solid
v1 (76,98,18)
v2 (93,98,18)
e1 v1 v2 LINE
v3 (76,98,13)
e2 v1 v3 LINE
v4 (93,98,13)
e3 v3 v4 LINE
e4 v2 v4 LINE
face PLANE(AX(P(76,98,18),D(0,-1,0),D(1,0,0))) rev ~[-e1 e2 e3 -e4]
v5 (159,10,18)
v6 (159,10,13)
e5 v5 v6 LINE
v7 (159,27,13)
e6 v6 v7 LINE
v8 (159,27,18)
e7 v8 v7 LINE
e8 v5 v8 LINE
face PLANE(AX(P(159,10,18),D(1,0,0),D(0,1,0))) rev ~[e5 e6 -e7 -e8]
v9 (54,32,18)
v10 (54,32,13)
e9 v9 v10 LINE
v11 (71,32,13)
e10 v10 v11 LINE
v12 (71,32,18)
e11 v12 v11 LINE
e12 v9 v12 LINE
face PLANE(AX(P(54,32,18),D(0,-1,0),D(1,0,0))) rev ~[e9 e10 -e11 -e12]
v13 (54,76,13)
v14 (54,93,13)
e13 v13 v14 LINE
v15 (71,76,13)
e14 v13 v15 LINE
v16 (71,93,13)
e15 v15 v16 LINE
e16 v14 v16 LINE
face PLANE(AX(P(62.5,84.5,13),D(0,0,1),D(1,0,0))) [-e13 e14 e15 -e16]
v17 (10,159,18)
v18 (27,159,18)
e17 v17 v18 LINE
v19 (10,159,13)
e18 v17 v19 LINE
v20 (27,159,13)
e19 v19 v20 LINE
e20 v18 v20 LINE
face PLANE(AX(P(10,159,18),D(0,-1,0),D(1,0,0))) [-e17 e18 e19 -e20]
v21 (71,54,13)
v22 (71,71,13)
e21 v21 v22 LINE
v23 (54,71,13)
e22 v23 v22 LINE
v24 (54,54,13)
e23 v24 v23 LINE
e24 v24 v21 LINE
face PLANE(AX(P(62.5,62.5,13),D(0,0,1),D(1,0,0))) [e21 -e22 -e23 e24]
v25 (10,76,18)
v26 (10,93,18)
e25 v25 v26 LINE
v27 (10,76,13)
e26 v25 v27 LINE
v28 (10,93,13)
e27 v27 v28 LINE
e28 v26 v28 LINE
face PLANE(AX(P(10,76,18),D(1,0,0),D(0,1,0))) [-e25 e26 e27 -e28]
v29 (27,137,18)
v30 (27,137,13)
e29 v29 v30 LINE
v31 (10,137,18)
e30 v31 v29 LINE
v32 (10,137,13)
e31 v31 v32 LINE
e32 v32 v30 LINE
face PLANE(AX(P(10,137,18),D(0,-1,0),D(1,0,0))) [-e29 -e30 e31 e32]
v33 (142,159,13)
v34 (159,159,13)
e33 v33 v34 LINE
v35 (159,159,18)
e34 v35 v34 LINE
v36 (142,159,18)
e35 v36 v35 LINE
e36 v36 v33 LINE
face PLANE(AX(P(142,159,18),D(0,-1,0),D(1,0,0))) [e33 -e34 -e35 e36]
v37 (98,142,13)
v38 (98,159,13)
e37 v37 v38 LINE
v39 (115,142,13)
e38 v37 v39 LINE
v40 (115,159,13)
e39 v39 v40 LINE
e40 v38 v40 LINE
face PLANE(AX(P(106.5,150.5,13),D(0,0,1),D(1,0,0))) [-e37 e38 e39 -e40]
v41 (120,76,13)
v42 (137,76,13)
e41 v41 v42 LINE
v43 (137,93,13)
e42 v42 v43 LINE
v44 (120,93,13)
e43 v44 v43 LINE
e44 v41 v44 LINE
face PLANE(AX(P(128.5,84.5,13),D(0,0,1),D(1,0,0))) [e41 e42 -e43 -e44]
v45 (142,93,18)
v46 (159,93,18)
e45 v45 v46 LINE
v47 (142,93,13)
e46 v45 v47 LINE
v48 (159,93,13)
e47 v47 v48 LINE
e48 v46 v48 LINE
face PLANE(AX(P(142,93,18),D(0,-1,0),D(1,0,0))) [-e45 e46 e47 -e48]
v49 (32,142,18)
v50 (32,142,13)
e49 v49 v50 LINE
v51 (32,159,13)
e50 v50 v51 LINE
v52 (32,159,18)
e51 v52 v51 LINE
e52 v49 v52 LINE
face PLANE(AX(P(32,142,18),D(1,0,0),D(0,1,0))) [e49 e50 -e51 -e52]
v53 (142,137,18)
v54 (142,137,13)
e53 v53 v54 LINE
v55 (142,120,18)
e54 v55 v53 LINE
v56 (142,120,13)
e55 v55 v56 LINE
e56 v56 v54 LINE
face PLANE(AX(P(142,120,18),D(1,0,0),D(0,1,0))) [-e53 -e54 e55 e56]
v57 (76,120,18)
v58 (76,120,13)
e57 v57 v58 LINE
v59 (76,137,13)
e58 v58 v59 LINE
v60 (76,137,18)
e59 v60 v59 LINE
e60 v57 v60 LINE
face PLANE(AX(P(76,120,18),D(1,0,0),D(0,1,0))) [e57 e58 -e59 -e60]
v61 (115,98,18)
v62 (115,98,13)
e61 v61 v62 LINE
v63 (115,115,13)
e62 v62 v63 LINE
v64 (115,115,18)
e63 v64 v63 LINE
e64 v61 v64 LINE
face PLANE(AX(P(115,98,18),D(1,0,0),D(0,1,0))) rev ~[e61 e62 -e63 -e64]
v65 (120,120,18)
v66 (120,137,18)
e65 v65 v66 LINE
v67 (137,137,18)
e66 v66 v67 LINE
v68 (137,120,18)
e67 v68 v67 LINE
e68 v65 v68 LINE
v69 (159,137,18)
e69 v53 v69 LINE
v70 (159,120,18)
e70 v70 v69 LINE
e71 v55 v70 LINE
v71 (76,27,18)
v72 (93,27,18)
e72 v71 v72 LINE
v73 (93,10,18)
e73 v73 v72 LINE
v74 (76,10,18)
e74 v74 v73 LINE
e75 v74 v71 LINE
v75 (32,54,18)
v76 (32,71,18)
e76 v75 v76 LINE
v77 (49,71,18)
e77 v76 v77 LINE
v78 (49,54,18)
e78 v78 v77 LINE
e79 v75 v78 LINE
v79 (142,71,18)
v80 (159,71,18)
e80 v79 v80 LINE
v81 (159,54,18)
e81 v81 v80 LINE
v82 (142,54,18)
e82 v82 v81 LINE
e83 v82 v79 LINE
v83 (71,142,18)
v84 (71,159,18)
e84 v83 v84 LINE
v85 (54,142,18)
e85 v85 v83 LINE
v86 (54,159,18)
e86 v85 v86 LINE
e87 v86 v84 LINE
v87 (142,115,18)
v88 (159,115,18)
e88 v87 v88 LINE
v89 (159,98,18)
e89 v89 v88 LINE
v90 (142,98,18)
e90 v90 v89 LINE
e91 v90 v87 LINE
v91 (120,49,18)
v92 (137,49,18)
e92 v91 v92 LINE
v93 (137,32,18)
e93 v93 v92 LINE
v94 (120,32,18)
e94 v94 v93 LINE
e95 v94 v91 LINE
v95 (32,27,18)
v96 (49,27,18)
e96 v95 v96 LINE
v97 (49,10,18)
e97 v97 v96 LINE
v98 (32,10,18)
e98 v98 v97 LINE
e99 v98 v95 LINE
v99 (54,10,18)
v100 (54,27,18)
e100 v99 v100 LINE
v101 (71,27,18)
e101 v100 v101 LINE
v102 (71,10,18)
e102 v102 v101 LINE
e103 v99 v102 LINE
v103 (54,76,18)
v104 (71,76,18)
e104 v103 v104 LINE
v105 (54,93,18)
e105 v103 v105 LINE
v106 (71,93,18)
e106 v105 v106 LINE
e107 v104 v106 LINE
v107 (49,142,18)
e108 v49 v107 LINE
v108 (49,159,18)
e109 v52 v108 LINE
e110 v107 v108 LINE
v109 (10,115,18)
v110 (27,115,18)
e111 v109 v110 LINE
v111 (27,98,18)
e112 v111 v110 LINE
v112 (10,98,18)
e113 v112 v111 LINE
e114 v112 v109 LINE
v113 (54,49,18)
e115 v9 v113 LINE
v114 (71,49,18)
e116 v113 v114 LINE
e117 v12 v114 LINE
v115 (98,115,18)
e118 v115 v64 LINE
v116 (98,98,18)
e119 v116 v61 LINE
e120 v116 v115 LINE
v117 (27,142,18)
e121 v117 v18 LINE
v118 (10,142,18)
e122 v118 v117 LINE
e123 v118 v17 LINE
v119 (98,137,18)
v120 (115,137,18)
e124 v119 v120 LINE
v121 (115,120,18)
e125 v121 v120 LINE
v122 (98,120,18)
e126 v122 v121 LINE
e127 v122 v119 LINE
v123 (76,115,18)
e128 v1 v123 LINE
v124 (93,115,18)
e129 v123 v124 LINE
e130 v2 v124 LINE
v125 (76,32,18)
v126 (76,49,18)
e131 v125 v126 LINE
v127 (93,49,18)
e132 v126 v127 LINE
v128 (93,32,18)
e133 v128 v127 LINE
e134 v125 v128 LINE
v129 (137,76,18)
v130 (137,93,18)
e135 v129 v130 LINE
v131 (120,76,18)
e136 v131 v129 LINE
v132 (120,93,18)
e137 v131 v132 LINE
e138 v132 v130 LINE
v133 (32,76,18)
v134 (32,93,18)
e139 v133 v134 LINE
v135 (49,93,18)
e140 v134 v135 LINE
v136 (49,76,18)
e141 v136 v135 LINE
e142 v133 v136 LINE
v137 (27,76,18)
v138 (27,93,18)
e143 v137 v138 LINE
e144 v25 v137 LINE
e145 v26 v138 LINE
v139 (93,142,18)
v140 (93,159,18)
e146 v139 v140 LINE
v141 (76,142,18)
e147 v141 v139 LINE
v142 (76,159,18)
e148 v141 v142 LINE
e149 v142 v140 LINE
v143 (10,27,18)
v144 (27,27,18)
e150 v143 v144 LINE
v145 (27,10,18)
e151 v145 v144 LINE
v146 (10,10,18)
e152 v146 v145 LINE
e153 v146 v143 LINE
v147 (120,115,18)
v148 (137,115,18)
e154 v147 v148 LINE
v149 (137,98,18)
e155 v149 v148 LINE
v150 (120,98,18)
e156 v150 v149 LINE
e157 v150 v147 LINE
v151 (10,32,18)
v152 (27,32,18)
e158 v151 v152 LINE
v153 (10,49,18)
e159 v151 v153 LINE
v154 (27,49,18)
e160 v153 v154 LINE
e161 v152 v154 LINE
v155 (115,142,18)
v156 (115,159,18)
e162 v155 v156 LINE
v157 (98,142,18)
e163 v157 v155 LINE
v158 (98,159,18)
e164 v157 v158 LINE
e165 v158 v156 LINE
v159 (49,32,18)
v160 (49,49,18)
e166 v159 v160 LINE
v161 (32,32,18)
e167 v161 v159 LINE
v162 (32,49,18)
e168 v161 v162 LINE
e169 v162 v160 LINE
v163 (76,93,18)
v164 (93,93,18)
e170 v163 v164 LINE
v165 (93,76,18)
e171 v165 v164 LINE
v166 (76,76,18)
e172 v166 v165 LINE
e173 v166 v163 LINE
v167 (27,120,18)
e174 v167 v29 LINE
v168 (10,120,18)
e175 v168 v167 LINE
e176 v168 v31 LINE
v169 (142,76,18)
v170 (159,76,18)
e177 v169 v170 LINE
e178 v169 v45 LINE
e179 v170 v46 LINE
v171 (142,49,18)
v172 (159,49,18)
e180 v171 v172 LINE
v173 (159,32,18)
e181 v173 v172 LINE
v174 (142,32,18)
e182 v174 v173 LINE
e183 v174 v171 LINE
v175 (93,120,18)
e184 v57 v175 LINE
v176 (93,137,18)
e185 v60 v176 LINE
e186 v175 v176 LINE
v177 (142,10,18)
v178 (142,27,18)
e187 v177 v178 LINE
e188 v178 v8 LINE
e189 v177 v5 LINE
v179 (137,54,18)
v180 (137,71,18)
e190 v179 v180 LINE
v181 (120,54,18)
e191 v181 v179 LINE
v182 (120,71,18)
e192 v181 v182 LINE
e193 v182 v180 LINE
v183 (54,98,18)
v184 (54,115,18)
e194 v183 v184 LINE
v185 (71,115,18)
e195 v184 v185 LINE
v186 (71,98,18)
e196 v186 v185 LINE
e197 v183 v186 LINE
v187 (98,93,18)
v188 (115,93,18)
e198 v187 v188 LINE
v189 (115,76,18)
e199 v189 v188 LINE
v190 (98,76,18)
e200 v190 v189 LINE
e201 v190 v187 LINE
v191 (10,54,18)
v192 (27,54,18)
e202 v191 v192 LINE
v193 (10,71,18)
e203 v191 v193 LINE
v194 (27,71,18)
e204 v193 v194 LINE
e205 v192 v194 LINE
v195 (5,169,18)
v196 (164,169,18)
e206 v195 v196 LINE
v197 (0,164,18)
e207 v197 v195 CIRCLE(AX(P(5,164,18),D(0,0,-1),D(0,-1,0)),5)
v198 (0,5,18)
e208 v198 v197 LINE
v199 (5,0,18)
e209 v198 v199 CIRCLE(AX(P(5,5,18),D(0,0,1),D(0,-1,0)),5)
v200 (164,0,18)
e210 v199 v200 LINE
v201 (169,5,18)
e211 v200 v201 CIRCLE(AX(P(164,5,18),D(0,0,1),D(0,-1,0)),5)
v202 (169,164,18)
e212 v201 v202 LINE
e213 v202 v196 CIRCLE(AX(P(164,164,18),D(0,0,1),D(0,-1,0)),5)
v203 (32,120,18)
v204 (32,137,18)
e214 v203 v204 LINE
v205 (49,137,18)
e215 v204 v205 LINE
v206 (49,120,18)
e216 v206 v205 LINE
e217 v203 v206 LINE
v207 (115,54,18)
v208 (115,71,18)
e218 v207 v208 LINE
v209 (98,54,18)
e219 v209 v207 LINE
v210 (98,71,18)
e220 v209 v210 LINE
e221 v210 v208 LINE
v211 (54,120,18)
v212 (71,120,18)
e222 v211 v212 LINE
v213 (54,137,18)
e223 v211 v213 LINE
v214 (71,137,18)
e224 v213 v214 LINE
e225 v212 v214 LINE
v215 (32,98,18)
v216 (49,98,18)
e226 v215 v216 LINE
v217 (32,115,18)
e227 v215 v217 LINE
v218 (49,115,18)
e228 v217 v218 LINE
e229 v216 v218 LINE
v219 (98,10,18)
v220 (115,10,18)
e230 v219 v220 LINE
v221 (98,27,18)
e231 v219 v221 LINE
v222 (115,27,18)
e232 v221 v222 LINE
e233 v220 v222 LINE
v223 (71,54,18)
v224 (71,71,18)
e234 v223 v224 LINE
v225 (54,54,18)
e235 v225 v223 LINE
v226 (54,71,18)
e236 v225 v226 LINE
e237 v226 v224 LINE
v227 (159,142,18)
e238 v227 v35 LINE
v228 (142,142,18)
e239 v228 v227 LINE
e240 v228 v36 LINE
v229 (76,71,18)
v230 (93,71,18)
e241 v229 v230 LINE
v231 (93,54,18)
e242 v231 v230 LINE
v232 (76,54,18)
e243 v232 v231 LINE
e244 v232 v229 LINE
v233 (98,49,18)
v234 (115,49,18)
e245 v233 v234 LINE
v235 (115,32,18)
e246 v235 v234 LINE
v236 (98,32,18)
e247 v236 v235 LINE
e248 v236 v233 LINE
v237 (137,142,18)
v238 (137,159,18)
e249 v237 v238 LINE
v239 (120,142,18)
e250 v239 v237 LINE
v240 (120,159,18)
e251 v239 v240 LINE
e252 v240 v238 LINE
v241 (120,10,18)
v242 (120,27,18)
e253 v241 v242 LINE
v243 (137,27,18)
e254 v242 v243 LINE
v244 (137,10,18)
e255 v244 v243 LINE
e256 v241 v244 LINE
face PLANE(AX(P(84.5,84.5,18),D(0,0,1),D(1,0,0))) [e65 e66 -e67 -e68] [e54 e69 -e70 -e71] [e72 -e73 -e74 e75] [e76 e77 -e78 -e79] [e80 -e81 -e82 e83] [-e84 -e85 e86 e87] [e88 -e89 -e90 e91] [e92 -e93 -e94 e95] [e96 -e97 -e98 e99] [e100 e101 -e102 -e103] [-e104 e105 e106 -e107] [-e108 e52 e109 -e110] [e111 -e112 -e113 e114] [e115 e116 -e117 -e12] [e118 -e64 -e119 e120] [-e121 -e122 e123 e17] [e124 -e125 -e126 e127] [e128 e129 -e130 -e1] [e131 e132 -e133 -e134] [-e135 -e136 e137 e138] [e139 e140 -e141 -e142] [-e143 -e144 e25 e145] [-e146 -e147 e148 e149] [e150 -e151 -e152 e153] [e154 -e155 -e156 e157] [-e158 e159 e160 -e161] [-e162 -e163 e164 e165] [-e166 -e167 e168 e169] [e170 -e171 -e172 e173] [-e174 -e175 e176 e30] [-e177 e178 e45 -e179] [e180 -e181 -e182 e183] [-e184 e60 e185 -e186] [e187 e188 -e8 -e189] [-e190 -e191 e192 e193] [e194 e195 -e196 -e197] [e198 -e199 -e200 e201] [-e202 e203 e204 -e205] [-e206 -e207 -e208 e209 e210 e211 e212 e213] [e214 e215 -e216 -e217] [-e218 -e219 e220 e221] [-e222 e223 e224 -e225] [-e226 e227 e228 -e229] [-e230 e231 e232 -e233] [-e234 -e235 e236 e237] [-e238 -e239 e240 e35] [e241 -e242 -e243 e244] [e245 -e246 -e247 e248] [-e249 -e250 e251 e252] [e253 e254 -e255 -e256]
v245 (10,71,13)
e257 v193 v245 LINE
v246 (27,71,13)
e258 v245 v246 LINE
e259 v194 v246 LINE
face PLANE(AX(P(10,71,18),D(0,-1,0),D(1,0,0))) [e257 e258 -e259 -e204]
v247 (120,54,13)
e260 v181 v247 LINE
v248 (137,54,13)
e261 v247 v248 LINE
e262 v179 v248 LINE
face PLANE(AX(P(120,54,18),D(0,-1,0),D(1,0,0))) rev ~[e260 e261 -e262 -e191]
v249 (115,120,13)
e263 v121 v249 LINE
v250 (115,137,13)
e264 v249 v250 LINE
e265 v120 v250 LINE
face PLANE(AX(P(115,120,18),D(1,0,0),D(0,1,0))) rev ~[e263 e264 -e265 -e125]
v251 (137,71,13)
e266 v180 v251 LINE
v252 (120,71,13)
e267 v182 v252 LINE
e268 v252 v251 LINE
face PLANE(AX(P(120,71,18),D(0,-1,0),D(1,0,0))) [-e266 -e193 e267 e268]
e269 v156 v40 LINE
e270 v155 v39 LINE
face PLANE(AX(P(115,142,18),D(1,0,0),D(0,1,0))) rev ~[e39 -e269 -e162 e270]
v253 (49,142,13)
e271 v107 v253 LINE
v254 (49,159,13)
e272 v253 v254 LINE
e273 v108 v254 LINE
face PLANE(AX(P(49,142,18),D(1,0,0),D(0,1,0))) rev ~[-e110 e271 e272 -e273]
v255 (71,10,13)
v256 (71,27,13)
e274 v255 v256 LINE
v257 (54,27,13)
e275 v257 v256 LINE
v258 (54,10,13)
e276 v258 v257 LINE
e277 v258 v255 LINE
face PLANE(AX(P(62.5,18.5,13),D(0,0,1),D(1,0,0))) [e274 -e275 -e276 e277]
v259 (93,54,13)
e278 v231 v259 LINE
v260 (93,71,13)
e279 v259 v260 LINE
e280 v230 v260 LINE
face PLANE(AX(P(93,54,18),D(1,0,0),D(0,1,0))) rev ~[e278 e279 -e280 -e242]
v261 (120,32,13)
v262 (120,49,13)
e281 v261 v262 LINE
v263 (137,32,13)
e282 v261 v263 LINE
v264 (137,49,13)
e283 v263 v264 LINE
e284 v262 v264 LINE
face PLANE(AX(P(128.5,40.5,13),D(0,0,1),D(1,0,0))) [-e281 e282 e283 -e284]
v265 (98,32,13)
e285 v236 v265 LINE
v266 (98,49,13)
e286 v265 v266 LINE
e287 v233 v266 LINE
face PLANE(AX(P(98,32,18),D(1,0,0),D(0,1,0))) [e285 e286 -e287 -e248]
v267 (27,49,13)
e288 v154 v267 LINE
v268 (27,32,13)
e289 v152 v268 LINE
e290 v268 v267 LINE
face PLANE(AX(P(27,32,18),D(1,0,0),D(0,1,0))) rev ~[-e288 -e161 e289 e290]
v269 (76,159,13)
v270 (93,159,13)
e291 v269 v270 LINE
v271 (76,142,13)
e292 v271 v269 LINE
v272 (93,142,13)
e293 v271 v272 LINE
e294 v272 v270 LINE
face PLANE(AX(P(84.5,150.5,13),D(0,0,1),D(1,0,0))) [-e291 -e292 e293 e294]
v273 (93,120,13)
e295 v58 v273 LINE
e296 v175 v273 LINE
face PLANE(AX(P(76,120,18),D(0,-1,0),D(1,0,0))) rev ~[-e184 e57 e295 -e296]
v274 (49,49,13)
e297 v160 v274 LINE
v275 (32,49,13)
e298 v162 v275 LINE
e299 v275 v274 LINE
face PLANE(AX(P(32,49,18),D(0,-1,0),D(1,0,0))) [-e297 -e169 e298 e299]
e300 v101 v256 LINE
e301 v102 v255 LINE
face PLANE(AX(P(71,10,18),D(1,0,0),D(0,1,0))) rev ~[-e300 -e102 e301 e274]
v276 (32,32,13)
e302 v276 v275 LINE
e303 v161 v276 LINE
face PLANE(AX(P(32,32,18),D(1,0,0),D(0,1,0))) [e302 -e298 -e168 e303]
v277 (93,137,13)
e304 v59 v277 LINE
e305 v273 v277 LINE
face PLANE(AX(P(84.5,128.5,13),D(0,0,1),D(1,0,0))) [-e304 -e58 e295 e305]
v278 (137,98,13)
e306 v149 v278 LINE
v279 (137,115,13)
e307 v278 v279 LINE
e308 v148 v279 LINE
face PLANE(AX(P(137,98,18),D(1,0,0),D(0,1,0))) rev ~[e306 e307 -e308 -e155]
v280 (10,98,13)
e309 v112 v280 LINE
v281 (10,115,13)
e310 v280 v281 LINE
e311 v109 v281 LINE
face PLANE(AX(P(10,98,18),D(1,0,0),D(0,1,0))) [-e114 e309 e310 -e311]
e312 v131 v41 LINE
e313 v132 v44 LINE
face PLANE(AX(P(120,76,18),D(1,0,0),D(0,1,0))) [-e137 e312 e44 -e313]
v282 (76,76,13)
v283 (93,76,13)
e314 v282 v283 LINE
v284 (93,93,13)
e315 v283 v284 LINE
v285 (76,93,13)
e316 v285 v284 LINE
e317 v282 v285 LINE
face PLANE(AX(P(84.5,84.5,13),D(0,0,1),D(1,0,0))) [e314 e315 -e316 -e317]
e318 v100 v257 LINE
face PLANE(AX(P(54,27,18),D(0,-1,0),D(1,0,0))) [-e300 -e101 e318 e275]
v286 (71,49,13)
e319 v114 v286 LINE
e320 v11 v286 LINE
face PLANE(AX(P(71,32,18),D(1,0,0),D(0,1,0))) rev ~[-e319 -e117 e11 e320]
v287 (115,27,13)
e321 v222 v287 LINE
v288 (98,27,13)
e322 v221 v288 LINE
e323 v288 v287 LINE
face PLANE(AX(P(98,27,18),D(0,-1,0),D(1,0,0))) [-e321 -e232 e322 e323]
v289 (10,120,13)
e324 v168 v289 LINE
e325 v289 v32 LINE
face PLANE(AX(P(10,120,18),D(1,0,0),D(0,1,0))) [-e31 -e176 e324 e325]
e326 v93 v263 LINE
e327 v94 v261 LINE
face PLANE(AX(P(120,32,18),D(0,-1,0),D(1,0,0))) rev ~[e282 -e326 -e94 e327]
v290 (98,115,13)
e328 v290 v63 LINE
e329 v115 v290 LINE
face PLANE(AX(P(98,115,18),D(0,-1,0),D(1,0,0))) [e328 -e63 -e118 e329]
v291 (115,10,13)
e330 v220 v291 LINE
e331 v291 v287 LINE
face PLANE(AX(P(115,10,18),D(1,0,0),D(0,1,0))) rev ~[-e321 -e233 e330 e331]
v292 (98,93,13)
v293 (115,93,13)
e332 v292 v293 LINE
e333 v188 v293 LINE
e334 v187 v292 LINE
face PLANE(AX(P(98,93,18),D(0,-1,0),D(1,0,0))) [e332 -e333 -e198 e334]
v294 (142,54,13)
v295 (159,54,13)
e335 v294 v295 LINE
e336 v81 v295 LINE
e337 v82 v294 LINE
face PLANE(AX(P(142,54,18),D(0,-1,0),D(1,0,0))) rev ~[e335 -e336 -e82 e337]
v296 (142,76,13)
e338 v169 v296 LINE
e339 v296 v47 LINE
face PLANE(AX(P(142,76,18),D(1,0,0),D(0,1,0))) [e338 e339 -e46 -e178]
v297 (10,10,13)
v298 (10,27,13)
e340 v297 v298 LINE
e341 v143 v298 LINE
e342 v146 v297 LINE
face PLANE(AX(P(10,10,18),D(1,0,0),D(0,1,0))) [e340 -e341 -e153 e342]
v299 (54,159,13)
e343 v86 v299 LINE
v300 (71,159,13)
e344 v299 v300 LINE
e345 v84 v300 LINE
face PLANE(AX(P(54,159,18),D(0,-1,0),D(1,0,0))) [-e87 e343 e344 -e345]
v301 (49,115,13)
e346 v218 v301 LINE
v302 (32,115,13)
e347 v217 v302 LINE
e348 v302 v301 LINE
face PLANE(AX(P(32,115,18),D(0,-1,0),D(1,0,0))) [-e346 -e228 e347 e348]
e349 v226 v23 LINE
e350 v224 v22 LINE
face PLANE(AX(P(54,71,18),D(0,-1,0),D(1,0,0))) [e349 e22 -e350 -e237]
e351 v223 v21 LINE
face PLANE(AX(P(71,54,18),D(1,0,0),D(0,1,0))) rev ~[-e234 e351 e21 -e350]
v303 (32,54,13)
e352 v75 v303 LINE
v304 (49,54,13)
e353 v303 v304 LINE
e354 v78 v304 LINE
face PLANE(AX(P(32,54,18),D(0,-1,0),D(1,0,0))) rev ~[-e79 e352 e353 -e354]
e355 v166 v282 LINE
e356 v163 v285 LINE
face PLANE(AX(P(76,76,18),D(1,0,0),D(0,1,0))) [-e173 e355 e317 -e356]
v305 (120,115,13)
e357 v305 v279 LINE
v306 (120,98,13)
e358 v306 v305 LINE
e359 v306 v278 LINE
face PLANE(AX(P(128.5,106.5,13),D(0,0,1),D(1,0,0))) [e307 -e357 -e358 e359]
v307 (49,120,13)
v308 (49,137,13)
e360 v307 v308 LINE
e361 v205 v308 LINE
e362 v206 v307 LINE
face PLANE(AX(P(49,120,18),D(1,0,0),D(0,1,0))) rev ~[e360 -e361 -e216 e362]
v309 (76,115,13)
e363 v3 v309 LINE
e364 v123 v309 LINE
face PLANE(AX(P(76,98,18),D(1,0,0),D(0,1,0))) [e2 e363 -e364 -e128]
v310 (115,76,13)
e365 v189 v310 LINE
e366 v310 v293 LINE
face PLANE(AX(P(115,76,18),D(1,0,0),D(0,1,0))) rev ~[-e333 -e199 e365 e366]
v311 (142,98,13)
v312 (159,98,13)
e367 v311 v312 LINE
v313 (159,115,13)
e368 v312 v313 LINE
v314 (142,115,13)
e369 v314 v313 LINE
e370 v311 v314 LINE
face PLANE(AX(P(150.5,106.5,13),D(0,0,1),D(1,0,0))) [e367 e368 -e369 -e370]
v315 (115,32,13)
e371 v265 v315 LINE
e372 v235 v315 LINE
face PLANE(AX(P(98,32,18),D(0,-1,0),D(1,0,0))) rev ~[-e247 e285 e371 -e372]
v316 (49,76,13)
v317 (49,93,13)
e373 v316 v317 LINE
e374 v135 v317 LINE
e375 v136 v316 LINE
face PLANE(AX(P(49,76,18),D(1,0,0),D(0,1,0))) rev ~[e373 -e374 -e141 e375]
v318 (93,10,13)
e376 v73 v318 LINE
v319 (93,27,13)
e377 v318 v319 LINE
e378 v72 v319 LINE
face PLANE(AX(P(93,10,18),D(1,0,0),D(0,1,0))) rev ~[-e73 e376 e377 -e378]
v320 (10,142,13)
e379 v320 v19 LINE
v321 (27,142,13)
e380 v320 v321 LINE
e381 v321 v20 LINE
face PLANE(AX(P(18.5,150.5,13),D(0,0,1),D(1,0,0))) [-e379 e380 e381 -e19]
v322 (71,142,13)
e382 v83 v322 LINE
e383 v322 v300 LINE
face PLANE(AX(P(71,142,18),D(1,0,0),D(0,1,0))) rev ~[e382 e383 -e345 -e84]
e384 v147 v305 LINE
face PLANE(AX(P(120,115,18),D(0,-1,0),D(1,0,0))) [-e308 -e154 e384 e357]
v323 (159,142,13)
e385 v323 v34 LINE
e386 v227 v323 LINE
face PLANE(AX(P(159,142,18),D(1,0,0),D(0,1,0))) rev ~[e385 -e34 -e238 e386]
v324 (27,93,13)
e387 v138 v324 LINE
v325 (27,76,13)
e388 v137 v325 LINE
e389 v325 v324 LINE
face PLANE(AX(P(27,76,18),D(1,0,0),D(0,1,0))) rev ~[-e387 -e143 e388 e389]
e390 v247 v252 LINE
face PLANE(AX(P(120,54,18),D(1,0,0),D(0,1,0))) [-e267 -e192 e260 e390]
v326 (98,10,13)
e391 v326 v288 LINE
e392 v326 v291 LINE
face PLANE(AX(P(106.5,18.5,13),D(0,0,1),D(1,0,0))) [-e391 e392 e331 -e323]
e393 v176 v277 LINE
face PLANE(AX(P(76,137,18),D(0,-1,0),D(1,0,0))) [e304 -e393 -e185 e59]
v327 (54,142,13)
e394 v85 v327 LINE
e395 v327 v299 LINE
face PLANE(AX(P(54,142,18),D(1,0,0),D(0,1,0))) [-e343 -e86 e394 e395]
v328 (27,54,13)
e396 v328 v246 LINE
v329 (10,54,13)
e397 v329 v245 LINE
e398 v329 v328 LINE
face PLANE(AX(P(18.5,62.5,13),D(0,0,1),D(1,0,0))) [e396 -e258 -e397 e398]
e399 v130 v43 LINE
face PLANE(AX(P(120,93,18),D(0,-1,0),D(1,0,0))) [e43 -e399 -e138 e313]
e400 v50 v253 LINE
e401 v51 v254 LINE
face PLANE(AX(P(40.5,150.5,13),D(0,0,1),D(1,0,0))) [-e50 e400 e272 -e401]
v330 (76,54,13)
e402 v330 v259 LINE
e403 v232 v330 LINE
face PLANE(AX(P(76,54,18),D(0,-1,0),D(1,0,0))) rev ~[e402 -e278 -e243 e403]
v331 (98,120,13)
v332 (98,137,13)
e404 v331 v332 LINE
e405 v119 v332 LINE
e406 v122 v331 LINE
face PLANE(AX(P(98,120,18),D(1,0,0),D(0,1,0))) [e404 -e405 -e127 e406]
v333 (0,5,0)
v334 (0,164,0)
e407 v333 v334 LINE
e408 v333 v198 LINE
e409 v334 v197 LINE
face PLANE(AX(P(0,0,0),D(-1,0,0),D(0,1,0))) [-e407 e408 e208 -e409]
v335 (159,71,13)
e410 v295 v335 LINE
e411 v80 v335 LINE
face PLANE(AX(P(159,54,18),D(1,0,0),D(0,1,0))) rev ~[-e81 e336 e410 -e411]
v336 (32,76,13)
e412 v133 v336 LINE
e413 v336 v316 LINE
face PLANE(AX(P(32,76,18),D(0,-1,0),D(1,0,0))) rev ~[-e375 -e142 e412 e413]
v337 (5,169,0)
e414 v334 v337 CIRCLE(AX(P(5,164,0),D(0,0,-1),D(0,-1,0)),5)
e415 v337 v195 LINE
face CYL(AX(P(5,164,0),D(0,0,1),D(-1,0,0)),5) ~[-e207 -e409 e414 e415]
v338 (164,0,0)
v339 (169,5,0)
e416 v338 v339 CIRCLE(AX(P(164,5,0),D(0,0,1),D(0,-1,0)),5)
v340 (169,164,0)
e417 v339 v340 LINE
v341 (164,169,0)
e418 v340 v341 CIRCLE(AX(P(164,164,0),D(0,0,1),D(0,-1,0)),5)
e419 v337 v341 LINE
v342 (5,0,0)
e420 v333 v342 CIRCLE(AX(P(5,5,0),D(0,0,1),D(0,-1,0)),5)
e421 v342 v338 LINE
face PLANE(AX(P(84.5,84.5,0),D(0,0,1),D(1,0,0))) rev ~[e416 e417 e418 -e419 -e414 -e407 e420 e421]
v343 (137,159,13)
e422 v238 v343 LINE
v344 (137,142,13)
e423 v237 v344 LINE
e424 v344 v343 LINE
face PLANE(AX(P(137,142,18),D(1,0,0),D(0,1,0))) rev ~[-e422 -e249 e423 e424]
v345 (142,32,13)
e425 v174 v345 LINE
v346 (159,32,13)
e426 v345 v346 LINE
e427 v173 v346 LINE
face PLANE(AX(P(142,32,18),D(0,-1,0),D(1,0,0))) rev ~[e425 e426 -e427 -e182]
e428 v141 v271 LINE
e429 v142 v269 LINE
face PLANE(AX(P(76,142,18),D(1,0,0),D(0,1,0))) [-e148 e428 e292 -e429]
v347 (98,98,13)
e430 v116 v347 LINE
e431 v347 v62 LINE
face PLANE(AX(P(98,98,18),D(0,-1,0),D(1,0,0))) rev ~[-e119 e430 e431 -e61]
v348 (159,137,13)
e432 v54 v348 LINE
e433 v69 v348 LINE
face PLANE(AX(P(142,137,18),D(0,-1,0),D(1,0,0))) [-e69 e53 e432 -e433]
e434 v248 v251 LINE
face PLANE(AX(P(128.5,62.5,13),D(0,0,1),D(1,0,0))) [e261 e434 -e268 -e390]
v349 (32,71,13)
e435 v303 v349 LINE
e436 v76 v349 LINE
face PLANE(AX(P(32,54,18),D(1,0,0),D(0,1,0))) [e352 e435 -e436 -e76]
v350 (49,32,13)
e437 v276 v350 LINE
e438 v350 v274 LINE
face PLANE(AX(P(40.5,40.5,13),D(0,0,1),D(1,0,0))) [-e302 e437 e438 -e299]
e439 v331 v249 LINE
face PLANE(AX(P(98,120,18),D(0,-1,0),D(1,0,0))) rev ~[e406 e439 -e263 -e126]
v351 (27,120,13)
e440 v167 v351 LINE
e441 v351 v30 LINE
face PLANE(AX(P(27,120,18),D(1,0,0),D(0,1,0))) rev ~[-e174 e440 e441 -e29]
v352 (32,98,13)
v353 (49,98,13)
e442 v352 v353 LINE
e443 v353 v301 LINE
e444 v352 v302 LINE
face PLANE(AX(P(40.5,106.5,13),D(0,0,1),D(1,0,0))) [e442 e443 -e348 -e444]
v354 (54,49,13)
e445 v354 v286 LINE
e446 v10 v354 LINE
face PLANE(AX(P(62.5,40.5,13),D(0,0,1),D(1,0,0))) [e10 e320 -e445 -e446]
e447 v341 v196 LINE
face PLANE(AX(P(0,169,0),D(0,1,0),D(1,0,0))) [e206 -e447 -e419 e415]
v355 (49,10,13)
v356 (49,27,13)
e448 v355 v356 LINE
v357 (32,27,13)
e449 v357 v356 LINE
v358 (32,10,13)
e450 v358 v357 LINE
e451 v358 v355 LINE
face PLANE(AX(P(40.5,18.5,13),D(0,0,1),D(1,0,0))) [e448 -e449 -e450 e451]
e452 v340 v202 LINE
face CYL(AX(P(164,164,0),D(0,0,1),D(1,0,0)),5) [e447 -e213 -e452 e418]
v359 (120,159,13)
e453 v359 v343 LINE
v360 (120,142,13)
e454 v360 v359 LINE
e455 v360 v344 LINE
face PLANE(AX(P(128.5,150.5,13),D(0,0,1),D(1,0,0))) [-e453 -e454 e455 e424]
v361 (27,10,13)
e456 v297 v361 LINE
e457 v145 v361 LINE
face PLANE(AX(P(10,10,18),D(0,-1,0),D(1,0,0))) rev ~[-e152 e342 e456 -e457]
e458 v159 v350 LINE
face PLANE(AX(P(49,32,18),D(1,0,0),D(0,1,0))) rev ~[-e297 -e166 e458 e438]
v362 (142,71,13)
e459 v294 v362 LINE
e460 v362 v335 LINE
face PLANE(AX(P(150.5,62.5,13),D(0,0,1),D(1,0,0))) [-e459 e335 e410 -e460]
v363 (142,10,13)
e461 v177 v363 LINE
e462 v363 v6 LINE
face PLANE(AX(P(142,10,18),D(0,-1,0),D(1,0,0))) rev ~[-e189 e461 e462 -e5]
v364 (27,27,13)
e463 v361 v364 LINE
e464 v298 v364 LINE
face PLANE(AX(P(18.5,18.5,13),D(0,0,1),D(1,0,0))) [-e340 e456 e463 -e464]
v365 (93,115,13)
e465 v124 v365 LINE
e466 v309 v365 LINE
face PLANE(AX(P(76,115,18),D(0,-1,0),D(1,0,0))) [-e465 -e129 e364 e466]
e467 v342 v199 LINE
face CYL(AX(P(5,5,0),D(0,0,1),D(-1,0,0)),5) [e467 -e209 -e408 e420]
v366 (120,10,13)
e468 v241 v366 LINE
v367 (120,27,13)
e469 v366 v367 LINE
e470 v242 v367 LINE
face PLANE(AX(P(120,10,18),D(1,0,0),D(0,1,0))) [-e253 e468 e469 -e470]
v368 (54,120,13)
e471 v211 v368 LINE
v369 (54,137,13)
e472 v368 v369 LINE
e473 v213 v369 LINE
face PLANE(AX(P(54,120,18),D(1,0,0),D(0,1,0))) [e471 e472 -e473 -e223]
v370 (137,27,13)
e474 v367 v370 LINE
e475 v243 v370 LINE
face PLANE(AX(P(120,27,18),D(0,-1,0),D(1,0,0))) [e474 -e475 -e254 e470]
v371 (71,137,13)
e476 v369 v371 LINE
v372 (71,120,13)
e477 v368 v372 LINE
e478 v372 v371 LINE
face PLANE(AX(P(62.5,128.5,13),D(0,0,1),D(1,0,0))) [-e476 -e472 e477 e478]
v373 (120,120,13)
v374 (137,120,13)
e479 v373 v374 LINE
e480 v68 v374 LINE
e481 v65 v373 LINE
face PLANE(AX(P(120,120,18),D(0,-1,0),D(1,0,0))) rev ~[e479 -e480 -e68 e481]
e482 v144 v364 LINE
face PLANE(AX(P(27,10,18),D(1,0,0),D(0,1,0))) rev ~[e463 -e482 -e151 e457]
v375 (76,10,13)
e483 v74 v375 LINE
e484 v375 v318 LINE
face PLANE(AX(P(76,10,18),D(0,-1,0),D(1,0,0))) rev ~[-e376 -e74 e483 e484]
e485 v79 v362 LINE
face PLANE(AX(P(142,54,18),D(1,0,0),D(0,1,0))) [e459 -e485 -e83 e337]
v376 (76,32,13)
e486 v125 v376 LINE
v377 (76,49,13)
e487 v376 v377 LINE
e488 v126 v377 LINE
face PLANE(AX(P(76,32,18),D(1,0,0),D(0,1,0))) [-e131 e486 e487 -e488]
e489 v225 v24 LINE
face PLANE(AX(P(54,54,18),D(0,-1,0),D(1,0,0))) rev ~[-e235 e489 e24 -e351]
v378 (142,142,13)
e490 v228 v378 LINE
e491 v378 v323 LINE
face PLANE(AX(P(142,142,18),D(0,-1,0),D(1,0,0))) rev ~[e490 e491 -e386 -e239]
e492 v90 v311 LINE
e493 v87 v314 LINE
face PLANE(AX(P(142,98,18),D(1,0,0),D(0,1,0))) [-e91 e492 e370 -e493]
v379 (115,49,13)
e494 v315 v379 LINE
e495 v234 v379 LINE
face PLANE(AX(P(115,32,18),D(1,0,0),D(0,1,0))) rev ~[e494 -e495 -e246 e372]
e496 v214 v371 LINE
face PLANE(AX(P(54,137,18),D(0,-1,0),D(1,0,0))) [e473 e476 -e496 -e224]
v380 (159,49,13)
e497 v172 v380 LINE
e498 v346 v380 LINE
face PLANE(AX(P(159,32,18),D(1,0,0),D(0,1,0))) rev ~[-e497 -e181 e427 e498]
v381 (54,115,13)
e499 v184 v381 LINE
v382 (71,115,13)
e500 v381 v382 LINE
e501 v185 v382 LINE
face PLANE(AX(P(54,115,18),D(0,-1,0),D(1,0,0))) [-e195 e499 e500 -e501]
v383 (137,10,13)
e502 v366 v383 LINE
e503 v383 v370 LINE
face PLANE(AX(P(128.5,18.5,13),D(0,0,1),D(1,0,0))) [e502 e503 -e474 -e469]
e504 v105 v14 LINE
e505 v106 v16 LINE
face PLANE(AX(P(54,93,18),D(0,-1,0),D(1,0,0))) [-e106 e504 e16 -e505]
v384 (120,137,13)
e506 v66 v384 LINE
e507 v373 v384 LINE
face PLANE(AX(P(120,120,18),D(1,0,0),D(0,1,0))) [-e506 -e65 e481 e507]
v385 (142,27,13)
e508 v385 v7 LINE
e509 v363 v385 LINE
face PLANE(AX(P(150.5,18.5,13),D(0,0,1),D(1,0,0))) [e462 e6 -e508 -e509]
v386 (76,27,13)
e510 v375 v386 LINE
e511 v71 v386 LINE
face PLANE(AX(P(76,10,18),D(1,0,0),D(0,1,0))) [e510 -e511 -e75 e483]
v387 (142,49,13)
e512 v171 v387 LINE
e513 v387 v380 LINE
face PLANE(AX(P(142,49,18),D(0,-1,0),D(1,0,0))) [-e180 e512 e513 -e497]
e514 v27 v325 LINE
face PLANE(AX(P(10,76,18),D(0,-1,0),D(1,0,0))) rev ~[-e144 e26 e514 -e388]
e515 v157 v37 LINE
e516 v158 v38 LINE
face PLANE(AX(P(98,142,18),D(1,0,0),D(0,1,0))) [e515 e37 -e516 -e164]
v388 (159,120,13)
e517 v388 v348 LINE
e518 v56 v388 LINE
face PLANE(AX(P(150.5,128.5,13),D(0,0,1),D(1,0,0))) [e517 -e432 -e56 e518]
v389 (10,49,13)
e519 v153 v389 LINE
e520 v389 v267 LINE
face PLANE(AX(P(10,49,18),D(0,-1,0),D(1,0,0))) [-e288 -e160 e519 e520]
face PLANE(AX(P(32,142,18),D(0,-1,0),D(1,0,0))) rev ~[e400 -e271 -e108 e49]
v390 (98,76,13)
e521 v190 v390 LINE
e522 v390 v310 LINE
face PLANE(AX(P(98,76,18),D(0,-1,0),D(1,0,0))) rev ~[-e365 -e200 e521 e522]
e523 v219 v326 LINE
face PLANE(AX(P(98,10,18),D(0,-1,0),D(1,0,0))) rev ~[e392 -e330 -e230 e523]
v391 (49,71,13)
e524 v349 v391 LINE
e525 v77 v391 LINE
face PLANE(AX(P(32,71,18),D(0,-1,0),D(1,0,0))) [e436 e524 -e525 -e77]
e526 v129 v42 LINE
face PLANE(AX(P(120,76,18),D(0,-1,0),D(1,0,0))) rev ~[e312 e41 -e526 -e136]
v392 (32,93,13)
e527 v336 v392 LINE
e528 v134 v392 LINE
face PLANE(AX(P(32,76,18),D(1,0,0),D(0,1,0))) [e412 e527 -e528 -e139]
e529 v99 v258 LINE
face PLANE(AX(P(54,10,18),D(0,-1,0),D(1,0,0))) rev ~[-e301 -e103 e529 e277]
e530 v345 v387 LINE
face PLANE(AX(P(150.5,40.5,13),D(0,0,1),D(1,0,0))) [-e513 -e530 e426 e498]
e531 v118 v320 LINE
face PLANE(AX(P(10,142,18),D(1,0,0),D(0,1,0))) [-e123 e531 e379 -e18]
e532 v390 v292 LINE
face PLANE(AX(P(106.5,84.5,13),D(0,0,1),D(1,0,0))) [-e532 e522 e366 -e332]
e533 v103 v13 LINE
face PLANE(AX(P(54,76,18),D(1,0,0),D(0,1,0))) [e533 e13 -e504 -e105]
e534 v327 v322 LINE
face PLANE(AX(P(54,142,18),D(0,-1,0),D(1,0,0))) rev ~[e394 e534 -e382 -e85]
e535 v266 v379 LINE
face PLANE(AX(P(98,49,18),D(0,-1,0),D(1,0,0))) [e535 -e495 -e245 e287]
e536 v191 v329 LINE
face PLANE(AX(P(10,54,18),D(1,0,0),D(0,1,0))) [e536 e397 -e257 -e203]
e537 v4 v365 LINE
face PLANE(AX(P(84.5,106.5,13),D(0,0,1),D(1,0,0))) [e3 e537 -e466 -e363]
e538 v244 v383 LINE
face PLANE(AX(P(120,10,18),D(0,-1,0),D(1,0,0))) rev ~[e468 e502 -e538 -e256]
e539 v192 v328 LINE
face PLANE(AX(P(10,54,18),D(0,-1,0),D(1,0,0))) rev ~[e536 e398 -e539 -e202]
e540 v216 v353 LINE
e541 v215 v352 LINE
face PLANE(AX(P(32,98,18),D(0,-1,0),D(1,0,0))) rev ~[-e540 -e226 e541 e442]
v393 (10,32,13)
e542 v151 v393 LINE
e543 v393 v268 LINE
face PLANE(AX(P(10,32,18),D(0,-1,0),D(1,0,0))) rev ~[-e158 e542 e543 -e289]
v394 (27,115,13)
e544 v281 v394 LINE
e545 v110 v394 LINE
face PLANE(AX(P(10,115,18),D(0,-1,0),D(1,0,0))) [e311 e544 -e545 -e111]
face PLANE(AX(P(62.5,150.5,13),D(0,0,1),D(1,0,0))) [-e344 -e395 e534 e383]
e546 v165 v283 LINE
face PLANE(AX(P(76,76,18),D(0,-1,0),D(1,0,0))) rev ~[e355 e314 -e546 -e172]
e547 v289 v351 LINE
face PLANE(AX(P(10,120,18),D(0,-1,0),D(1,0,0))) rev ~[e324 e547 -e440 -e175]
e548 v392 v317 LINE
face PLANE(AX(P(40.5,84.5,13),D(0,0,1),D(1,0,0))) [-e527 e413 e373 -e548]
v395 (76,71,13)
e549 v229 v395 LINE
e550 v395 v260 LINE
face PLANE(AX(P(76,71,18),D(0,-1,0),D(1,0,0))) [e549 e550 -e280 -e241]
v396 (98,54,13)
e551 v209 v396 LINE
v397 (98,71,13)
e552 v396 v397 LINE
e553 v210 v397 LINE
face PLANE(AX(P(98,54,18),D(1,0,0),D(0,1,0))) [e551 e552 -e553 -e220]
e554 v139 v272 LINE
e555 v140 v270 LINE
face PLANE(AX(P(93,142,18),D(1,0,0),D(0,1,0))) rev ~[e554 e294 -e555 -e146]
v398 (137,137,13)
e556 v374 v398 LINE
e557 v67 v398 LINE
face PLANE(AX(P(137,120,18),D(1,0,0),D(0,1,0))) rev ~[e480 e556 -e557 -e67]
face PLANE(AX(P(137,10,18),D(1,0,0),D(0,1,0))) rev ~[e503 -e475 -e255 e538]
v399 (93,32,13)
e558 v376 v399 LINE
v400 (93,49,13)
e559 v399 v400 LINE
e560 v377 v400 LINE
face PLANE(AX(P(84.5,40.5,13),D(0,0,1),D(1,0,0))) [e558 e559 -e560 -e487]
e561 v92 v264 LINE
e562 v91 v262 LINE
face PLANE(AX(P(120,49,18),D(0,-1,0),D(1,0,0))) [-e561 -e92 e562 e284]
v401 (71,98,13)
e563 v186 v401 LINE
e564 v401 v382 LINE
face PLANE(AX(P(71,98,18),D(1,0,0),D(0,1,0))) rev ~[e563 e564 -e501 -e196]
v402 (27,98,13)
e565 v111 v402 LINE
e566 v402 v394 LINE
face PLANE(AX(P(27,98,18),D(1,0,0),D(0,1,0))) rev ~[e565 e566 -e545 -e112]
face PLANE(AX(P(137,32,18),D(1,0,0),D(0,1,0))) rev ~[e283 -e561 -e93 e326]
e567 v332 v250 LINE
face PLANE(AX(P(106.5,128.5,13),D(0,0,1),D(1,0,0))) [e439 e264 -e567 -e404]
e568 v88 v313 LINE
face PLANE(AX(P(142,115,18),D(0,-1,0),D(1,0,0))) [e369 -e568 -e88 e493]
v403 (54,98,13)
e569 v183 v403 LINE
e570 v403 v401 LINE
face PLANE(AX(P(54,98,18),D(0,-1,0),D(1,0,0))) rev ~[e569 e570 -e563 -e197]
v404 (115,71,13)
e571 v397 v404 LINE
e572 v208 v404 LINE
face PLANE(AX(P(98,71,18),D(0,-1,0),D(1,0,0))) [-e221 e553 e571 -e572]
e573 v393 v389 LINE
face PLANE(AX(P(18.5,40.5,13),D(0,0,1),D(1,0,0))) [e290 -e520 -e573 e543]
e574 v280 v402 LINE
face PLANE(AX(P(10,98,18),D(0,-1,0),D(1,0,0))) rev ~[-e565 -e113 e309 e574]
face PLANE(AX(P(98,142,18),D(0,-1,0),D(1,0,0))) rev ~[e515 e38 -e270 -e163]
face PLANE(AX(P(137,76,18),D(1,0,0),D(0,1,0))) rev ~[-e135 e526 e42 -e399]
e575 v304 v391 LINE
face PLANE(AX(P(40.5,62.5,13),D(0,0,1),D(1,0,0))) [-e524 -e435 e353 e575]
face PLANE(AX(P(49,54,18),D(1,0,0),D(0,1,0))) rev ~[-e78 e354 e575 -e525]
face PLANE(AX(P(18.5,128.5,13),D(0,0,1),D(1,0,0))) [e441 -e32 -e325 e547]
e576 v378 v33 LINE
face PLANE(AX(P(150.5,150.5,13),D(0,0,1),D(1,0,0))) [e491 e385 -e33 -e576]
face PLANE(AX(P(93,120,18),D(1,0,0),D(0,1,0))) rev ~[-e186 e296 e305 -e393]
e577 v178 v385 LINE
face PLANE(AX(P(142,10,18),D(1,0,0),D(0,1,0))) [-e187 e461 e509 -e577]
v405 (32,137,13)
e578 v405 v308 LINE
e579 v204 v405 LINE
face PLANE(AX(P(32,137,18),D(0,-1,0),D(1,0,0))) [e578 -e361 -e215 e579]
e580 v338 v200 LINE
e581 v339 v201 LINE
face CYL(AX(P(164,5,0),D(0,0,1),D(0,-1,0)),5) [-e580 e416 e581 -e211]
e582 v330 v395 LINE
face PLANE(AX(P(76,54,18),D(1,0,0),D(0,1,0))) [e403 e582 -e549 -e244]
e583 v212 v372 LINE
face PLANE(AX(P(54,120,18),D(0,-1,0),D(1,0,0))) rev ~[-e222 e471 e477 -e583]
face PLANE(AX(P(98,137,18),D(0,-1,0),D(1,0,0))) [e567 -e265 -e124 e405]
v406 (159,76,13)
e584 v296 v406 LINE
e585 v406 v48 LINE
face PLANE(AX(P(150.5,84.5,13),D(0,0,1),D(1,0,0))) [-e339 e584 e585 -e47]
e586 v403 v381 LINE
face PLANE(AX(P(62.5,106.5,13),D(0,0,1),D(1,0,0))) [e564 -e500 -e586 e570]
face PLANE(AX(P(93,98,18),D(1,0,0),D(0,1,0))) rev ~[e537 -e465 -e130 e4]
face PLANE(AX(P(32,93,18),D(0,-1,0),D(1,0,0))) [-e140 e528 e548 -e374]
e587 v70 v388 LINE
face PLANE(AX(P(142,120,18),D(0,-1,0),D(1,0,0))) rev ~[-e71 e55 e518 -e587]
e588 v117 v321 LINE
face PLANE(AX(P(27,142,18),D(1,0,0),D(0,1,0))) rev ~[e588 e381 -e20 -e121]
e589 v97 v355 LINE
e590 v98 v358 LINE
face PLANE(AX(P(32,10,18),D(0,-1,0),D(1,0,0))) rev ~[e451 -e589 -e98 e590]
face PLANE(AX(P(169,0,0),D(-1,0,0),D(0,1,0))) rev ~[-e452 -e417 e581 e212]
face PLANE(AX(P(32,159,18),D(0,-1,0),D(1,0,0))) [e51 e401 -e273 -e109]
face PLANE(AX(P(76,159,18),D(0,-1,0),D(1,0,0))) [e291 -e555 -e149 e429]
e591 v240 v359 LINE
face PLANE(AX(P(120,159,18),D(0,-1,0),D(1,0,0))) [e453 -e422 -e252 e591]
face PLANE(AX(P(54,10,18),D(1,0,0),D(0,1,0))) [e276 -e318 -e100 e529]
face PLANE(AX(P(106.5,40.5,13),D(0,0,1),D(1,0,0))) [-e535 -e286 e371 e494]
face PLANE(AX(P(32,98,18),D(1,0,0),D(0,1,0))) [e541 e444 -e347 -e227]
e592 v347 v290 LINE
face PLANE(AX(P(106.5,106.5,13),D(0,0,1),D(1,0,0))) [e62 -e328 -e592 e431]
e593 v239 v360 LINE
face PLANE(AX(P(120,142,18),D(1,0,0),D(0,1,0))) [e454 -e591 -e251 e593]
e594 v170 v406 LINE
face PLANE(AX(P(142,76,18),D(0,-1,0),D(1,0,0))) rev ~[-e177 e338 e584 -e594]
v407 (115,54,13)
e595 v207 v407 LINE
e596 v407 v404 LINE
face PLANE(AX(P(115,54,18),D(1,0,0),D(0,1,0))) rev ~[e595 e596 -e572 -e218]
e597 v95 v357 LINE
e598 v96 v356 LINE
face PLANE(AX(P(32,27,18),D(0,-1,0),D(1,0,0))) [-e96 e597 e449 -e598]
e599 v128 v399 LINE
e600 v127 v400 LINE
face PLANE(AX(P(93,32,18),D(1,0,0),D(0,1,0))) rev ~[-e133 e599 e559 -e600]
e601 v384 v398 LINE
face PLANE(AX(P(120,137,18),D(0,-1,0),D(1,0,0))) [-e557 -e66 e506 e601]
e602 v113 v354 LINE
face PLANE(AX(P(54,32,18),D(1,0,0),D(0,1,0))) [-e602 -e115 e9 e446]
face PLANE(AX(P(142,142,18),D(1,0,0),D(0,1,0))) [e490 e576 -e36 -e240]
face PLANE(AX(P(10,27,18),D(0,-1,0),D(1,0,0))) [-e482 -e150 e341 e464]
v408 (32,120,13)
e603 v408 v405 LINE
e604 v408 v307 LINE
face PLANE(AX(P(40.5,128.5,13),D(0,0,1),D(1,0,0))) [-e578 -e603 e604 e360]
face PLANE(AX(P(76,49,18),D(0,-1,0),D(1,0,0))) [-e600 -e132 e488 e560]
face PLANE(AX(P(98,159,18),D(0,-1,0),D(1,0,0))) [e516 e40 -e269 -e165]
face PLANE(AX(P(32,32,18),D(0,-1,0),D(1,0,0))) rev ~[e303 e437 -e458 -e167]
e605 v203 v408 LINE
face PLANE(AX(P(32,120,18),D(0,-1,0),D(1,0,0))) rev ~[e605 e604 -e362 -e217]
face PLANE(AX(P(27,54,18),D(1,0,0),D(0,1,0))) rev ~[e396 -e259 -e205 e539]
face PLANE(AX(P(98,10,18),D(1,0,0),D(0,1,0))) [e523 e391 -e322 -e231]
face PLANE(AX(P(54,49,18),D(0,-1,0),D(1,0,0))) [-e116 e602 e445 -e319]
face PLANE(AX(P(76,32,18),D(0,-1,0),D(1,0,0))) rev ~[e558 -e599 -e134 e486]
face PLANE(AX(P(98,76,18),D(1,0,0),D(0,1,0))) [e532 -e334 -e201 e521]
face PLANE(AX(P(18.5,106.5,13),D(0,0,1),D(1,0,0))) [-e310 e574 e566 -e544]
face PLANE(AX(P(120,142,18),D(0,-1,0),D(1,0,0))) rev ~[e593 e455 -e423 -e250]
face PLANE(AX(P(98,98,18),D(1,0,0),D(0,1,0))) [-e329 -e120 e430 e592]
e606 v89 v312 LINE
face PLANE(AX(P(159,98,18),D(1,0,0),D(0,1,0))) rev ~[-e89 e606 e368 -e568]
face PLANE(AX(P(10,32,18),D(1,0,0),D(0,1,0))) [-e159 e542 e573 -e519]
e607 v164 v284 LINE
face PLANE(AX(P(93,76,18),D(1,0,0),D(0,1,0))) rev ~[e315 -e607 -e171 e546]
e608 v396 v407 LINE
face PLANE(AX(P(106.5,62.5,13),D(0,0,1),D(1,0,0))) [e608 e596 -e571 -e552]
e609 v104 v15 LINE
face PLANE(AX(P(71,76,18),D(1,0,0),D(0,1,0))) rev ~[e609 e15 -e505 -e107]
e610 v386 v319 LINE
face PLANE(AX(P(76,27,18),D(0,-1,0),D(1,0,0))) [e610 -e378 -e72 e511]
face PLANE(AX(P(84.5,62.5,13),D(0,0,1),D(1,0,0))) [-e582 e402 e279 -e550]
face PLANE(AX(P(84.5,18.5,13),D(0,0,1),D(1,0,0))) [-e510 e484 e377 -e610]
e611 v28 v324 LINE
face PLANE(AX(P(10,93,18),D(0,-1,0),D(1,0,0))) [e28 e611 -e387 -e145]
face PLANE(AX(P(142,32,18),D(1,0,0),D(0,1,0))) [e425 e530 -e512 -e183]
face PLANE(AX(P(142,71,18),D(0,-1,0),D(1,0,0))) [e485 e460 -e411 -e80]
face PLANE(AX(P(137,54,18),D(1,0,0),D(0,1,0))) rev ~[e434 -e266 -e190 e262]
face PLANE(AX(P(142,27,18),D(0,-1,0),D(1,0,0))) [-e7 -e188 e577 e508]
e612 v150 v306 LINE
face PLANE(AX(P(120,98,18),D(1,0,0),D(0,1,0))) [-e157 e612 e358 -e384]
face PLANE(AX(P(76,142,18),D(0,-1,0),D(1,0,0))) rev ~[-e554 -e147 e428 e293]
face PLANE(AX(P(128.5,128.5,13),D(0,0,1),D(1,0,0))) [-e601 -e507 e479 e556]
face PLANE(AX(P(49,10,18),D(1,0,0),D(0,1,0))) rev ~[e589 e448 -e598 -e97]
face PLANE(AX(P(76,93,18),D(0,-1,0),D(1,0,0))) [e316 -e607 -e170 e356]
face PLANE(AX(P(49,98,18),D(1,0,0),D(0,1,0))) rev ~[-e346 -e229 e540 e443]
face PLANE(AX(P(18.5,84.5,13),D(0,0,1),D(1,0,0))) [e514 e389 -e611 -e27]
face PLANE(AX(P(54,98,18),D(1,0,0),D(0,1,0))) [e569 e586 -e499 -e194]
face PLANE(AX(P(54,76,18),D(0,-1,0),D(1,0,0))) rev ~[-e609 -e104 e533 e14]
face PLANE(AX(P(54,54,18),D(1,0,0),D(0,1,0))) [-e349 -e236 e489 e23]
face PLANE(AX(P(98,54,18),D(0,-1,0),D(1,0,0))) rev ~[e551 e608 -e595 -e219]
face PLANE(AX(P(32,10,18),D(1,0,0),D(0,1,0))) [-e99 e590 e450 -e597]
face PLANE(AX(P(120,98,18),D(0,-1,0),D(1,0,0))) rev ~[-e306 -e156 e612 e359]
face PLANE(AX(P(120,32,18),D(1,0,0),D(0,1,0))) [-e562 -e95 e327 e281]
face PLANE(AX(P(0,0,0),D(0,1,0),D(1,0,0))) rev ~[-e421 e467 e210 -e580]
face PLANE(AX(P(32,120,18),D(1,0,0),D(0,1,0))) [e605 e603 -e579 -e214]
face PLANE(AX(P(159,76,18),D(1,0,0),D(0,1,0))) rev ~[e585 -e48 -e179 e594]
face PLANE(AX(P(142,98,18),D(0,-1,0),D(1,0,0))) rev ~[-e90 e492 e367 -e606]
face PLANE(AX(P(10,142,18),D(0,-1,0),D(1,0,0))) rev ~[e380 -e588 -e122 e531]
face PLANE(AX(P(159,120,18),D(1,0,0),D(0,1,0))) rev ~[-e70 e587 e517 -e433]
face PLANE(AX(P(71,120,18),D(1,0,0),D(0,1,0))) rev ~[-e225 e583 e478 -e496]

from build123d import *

# Parameters (mm, degrees)
SKETCH_W                     = 169
SKETCH_H                     = 169
PAD_DEPTH                    = 18
FILLET_R                     = 5
SKETCH001_W                  = 17
SKETCH001_H                  = 17
POCKET_DEPTH                 = 5
SKETCH001_LINEARPATTERN_2_W  = 17
SKETCH001_LINEARPATTERN_2_H  = 17
POCKET_LINEARPATTERN_2_DEPTH = 5
SKETCH001_LINEARPATTERN_3_W  = 17
SKETCH001_LINEARPATTERN_3_H  = 17
POCKET_LINEARPATTERN_3_DEPTH = 5
SKETCH001_LINEARPATTERN_4_W  = 17
SKETCH001_LINEARPATTERN_4_H  = 17
POCKET_LINEARPATTERN_4_DEPTH = 5
SKETCH001_LINEARPATTERN_5_W  = 17
SKETCH001_LINEARPATTERN_5_H  = 17
POCKET_LINEARPATTERN_5_DEPTH = 5
SKETCH001_LINEARPATTERN_6_W  = 17
SKETCH001_LINEARPATTERN_6_H  = 17
POCKET_LINEARPATTERN_6_DEPTH = 5
SKETCH001_LINEARPATTERN_7_W  = 17
SKETCH001_LINEARPATTERN_7_H  = 17
POCKET_LINEARPATTERN_7_DEPTH = 5
LINEARPATTERN001_COUNT       = 7
LINEARPATTERN001_PITCH       = 22


with BuildPart() as part:
    # Sketch → Pad (new body)
    with BuildSketch(Plane.XY):
        with Locations((84.5, 84.5)):
            Rectangle(SKETCH_W, SKETCH_H)
    extrude(amount=PAD_DEPTH)

    # Fillet
    fillet_edges = [part.edges().sort_by_distance(p)[0] for p in [
        (169, 0, 9),
        (169, 169, 9),
        (0, 0, 9),
        (0, 169, 9),
    ]]
    fillet(fillet_edges, radius=FILLET_R)

    # Sketch001 (on Face5 of Fillet) → Pocket (cut)
    with BuildSketch(Plane.XY.offset(18)):
        with Locations((18.5, 18.5)):
            Rectangle(SKETCH001_W, SKETCH001_H)
    pocket = extrude(amount=-POCKET_DEPTH, mode=Mode.SUBTRACT)

    # Sketch001 LinearPattern 2 → Pocket LinearPattern 2 (cut)
    with BuildSketch(Plane(origin=(22, 0, 18), x_dir=(1, 0, 0), z_dir=(0, 0, 1))):
        with Locations((18.5, 18.5)):
            Rectangle(SKETCH001_LINEARPATTERN_2_W, SKETCH001_LINEARPATTERN_2_H)
    pocket_linearpattern_2 = extrude(amount=-POCKET_LINEARPATTERN_2_DEPTH, mode=Mode.SUBTRACT)

    # Sketch001 LinearPattern 3 → Pocket LinearPattern 3 (cut)
    with BuildSketch(Plane(origin=(44, 0, 18), x_dir=(1, 0, 0), z_dir=(0, 0, 1))):
        with Locations((18.5, 18.5)):
            Rectangle(SKETCH001_LINEARPATTERN_3_W, SKETCH001_LINEARPATTERN_3_H)
    pocket_linearpattern_3 = extrude(amount=-POCKET_LINEARPATTERN_3_DEPTH, mode=Mode.SUBTRACT)

    # Sketch001 LinearPattern 4 → Pocket LinearPattern 4 (cut)
    with BuildSketch(Plane(origin=(66, 0, 18), x_dir=(1, 0, 0), z_dir=(0, 0, 1))):
        with Locations((18.5, 18.5)):
            Rectangle(SKETCH001_LINEARPATTERN_4_W, SKETCH001_LINEARPATTERN_4_H)
    pocket_linearpattern_4 = extrude(amount=-POCKET_LINEARPATTERN_4_DEPTH, mode=Mode.SUBTRACT)

    # Sketch001 LinearPattern 5 → Pocket LinearPattern 5 (cut)
    with BuildSketch(Plane(origin=(88, 0, 18), x_dir=(1, 0, 0), z_dir=(0, 0, 1))):
        with Locations((18.5, 18.5)):
            Rectangle(SKETCH001_LINEARPATTERN_5_W, SKETCH001_LINEARPATTERN_5_H)
    pocket_linearpattern_5 = extrude(amount=-POCKET_LINEARPATTERN_5_DEPTH, mode=Mode.SUBTRACT)

    # Sketch001 LinearPattern 6 → Pocket LinearPattern 6 (cut)
    with BuildSketch(Plane(origin=(110, 0, 18), x_dir=(1, 0, 0), z_dir=(0, 0, 1))):
        with Locations((18.5, 18.5)):
            Rectangle(SKETCH001_LINEARPATTERN_6_W, SKETCH001_LINEARPATTERN_6_H)
    pocket_linearpattern_6 = extrude(amount=-POCKET_LINEARPATTERN_6_DEPTH, mode=Mode.SUBTRACT)

    # Sketch001 LinearPattern 7 → Pocket LinearPattern 7 (cut)
    with BuildSketch(Plane(origin=(132, 0, 18), x_dir=(1, 0, 0), z_dir=(0, 0, 1))):
        with Locations((18.5, 18.5)):
            Rectangle(SKETCH001_LINEARPATTERN_7_W, SKETCH001_LINEARPATTERN_7_H)
    pocket_linearpattern_7 = extrude(amount=-POCKET_LINEARPATTERN_7_DEPTH, mode=Mode.SUBTRACT)

    # LinearPattern001: Pocket, Pocket LinearPattern 2, Pocket LinearPattern 3, Pocket LinearPattern 4, Pocket LinearPattern 5, Pocket LinearPattern 6, Pocket LinearPattern 7 ×7
    with Locations(*[(0, i * LINEARPATTERN001_PITCH, 0) for i in range(1, LINEARPATTERN001_COUNT)]):
        add(pocket, mode=Mode.SUBTRACT)
        add(pocket_linearpattern_2, mode=Mode.SUBTRACT)
        add(pocket_linearpattern_3, mode=Mode.SUBTRACT)
        add(pocket_linearpattern_4, mode=Mode.SUBTRACT)
        add(pocket_linearpattern_5, mode=Mode.SUBTRACT)
        add(pocket_linearpattern_6, mode=Mode.SUBTRACT)
        add(pocket_linearpattern_7, mode=Mode.SUBTRACT)


solid = part.part
